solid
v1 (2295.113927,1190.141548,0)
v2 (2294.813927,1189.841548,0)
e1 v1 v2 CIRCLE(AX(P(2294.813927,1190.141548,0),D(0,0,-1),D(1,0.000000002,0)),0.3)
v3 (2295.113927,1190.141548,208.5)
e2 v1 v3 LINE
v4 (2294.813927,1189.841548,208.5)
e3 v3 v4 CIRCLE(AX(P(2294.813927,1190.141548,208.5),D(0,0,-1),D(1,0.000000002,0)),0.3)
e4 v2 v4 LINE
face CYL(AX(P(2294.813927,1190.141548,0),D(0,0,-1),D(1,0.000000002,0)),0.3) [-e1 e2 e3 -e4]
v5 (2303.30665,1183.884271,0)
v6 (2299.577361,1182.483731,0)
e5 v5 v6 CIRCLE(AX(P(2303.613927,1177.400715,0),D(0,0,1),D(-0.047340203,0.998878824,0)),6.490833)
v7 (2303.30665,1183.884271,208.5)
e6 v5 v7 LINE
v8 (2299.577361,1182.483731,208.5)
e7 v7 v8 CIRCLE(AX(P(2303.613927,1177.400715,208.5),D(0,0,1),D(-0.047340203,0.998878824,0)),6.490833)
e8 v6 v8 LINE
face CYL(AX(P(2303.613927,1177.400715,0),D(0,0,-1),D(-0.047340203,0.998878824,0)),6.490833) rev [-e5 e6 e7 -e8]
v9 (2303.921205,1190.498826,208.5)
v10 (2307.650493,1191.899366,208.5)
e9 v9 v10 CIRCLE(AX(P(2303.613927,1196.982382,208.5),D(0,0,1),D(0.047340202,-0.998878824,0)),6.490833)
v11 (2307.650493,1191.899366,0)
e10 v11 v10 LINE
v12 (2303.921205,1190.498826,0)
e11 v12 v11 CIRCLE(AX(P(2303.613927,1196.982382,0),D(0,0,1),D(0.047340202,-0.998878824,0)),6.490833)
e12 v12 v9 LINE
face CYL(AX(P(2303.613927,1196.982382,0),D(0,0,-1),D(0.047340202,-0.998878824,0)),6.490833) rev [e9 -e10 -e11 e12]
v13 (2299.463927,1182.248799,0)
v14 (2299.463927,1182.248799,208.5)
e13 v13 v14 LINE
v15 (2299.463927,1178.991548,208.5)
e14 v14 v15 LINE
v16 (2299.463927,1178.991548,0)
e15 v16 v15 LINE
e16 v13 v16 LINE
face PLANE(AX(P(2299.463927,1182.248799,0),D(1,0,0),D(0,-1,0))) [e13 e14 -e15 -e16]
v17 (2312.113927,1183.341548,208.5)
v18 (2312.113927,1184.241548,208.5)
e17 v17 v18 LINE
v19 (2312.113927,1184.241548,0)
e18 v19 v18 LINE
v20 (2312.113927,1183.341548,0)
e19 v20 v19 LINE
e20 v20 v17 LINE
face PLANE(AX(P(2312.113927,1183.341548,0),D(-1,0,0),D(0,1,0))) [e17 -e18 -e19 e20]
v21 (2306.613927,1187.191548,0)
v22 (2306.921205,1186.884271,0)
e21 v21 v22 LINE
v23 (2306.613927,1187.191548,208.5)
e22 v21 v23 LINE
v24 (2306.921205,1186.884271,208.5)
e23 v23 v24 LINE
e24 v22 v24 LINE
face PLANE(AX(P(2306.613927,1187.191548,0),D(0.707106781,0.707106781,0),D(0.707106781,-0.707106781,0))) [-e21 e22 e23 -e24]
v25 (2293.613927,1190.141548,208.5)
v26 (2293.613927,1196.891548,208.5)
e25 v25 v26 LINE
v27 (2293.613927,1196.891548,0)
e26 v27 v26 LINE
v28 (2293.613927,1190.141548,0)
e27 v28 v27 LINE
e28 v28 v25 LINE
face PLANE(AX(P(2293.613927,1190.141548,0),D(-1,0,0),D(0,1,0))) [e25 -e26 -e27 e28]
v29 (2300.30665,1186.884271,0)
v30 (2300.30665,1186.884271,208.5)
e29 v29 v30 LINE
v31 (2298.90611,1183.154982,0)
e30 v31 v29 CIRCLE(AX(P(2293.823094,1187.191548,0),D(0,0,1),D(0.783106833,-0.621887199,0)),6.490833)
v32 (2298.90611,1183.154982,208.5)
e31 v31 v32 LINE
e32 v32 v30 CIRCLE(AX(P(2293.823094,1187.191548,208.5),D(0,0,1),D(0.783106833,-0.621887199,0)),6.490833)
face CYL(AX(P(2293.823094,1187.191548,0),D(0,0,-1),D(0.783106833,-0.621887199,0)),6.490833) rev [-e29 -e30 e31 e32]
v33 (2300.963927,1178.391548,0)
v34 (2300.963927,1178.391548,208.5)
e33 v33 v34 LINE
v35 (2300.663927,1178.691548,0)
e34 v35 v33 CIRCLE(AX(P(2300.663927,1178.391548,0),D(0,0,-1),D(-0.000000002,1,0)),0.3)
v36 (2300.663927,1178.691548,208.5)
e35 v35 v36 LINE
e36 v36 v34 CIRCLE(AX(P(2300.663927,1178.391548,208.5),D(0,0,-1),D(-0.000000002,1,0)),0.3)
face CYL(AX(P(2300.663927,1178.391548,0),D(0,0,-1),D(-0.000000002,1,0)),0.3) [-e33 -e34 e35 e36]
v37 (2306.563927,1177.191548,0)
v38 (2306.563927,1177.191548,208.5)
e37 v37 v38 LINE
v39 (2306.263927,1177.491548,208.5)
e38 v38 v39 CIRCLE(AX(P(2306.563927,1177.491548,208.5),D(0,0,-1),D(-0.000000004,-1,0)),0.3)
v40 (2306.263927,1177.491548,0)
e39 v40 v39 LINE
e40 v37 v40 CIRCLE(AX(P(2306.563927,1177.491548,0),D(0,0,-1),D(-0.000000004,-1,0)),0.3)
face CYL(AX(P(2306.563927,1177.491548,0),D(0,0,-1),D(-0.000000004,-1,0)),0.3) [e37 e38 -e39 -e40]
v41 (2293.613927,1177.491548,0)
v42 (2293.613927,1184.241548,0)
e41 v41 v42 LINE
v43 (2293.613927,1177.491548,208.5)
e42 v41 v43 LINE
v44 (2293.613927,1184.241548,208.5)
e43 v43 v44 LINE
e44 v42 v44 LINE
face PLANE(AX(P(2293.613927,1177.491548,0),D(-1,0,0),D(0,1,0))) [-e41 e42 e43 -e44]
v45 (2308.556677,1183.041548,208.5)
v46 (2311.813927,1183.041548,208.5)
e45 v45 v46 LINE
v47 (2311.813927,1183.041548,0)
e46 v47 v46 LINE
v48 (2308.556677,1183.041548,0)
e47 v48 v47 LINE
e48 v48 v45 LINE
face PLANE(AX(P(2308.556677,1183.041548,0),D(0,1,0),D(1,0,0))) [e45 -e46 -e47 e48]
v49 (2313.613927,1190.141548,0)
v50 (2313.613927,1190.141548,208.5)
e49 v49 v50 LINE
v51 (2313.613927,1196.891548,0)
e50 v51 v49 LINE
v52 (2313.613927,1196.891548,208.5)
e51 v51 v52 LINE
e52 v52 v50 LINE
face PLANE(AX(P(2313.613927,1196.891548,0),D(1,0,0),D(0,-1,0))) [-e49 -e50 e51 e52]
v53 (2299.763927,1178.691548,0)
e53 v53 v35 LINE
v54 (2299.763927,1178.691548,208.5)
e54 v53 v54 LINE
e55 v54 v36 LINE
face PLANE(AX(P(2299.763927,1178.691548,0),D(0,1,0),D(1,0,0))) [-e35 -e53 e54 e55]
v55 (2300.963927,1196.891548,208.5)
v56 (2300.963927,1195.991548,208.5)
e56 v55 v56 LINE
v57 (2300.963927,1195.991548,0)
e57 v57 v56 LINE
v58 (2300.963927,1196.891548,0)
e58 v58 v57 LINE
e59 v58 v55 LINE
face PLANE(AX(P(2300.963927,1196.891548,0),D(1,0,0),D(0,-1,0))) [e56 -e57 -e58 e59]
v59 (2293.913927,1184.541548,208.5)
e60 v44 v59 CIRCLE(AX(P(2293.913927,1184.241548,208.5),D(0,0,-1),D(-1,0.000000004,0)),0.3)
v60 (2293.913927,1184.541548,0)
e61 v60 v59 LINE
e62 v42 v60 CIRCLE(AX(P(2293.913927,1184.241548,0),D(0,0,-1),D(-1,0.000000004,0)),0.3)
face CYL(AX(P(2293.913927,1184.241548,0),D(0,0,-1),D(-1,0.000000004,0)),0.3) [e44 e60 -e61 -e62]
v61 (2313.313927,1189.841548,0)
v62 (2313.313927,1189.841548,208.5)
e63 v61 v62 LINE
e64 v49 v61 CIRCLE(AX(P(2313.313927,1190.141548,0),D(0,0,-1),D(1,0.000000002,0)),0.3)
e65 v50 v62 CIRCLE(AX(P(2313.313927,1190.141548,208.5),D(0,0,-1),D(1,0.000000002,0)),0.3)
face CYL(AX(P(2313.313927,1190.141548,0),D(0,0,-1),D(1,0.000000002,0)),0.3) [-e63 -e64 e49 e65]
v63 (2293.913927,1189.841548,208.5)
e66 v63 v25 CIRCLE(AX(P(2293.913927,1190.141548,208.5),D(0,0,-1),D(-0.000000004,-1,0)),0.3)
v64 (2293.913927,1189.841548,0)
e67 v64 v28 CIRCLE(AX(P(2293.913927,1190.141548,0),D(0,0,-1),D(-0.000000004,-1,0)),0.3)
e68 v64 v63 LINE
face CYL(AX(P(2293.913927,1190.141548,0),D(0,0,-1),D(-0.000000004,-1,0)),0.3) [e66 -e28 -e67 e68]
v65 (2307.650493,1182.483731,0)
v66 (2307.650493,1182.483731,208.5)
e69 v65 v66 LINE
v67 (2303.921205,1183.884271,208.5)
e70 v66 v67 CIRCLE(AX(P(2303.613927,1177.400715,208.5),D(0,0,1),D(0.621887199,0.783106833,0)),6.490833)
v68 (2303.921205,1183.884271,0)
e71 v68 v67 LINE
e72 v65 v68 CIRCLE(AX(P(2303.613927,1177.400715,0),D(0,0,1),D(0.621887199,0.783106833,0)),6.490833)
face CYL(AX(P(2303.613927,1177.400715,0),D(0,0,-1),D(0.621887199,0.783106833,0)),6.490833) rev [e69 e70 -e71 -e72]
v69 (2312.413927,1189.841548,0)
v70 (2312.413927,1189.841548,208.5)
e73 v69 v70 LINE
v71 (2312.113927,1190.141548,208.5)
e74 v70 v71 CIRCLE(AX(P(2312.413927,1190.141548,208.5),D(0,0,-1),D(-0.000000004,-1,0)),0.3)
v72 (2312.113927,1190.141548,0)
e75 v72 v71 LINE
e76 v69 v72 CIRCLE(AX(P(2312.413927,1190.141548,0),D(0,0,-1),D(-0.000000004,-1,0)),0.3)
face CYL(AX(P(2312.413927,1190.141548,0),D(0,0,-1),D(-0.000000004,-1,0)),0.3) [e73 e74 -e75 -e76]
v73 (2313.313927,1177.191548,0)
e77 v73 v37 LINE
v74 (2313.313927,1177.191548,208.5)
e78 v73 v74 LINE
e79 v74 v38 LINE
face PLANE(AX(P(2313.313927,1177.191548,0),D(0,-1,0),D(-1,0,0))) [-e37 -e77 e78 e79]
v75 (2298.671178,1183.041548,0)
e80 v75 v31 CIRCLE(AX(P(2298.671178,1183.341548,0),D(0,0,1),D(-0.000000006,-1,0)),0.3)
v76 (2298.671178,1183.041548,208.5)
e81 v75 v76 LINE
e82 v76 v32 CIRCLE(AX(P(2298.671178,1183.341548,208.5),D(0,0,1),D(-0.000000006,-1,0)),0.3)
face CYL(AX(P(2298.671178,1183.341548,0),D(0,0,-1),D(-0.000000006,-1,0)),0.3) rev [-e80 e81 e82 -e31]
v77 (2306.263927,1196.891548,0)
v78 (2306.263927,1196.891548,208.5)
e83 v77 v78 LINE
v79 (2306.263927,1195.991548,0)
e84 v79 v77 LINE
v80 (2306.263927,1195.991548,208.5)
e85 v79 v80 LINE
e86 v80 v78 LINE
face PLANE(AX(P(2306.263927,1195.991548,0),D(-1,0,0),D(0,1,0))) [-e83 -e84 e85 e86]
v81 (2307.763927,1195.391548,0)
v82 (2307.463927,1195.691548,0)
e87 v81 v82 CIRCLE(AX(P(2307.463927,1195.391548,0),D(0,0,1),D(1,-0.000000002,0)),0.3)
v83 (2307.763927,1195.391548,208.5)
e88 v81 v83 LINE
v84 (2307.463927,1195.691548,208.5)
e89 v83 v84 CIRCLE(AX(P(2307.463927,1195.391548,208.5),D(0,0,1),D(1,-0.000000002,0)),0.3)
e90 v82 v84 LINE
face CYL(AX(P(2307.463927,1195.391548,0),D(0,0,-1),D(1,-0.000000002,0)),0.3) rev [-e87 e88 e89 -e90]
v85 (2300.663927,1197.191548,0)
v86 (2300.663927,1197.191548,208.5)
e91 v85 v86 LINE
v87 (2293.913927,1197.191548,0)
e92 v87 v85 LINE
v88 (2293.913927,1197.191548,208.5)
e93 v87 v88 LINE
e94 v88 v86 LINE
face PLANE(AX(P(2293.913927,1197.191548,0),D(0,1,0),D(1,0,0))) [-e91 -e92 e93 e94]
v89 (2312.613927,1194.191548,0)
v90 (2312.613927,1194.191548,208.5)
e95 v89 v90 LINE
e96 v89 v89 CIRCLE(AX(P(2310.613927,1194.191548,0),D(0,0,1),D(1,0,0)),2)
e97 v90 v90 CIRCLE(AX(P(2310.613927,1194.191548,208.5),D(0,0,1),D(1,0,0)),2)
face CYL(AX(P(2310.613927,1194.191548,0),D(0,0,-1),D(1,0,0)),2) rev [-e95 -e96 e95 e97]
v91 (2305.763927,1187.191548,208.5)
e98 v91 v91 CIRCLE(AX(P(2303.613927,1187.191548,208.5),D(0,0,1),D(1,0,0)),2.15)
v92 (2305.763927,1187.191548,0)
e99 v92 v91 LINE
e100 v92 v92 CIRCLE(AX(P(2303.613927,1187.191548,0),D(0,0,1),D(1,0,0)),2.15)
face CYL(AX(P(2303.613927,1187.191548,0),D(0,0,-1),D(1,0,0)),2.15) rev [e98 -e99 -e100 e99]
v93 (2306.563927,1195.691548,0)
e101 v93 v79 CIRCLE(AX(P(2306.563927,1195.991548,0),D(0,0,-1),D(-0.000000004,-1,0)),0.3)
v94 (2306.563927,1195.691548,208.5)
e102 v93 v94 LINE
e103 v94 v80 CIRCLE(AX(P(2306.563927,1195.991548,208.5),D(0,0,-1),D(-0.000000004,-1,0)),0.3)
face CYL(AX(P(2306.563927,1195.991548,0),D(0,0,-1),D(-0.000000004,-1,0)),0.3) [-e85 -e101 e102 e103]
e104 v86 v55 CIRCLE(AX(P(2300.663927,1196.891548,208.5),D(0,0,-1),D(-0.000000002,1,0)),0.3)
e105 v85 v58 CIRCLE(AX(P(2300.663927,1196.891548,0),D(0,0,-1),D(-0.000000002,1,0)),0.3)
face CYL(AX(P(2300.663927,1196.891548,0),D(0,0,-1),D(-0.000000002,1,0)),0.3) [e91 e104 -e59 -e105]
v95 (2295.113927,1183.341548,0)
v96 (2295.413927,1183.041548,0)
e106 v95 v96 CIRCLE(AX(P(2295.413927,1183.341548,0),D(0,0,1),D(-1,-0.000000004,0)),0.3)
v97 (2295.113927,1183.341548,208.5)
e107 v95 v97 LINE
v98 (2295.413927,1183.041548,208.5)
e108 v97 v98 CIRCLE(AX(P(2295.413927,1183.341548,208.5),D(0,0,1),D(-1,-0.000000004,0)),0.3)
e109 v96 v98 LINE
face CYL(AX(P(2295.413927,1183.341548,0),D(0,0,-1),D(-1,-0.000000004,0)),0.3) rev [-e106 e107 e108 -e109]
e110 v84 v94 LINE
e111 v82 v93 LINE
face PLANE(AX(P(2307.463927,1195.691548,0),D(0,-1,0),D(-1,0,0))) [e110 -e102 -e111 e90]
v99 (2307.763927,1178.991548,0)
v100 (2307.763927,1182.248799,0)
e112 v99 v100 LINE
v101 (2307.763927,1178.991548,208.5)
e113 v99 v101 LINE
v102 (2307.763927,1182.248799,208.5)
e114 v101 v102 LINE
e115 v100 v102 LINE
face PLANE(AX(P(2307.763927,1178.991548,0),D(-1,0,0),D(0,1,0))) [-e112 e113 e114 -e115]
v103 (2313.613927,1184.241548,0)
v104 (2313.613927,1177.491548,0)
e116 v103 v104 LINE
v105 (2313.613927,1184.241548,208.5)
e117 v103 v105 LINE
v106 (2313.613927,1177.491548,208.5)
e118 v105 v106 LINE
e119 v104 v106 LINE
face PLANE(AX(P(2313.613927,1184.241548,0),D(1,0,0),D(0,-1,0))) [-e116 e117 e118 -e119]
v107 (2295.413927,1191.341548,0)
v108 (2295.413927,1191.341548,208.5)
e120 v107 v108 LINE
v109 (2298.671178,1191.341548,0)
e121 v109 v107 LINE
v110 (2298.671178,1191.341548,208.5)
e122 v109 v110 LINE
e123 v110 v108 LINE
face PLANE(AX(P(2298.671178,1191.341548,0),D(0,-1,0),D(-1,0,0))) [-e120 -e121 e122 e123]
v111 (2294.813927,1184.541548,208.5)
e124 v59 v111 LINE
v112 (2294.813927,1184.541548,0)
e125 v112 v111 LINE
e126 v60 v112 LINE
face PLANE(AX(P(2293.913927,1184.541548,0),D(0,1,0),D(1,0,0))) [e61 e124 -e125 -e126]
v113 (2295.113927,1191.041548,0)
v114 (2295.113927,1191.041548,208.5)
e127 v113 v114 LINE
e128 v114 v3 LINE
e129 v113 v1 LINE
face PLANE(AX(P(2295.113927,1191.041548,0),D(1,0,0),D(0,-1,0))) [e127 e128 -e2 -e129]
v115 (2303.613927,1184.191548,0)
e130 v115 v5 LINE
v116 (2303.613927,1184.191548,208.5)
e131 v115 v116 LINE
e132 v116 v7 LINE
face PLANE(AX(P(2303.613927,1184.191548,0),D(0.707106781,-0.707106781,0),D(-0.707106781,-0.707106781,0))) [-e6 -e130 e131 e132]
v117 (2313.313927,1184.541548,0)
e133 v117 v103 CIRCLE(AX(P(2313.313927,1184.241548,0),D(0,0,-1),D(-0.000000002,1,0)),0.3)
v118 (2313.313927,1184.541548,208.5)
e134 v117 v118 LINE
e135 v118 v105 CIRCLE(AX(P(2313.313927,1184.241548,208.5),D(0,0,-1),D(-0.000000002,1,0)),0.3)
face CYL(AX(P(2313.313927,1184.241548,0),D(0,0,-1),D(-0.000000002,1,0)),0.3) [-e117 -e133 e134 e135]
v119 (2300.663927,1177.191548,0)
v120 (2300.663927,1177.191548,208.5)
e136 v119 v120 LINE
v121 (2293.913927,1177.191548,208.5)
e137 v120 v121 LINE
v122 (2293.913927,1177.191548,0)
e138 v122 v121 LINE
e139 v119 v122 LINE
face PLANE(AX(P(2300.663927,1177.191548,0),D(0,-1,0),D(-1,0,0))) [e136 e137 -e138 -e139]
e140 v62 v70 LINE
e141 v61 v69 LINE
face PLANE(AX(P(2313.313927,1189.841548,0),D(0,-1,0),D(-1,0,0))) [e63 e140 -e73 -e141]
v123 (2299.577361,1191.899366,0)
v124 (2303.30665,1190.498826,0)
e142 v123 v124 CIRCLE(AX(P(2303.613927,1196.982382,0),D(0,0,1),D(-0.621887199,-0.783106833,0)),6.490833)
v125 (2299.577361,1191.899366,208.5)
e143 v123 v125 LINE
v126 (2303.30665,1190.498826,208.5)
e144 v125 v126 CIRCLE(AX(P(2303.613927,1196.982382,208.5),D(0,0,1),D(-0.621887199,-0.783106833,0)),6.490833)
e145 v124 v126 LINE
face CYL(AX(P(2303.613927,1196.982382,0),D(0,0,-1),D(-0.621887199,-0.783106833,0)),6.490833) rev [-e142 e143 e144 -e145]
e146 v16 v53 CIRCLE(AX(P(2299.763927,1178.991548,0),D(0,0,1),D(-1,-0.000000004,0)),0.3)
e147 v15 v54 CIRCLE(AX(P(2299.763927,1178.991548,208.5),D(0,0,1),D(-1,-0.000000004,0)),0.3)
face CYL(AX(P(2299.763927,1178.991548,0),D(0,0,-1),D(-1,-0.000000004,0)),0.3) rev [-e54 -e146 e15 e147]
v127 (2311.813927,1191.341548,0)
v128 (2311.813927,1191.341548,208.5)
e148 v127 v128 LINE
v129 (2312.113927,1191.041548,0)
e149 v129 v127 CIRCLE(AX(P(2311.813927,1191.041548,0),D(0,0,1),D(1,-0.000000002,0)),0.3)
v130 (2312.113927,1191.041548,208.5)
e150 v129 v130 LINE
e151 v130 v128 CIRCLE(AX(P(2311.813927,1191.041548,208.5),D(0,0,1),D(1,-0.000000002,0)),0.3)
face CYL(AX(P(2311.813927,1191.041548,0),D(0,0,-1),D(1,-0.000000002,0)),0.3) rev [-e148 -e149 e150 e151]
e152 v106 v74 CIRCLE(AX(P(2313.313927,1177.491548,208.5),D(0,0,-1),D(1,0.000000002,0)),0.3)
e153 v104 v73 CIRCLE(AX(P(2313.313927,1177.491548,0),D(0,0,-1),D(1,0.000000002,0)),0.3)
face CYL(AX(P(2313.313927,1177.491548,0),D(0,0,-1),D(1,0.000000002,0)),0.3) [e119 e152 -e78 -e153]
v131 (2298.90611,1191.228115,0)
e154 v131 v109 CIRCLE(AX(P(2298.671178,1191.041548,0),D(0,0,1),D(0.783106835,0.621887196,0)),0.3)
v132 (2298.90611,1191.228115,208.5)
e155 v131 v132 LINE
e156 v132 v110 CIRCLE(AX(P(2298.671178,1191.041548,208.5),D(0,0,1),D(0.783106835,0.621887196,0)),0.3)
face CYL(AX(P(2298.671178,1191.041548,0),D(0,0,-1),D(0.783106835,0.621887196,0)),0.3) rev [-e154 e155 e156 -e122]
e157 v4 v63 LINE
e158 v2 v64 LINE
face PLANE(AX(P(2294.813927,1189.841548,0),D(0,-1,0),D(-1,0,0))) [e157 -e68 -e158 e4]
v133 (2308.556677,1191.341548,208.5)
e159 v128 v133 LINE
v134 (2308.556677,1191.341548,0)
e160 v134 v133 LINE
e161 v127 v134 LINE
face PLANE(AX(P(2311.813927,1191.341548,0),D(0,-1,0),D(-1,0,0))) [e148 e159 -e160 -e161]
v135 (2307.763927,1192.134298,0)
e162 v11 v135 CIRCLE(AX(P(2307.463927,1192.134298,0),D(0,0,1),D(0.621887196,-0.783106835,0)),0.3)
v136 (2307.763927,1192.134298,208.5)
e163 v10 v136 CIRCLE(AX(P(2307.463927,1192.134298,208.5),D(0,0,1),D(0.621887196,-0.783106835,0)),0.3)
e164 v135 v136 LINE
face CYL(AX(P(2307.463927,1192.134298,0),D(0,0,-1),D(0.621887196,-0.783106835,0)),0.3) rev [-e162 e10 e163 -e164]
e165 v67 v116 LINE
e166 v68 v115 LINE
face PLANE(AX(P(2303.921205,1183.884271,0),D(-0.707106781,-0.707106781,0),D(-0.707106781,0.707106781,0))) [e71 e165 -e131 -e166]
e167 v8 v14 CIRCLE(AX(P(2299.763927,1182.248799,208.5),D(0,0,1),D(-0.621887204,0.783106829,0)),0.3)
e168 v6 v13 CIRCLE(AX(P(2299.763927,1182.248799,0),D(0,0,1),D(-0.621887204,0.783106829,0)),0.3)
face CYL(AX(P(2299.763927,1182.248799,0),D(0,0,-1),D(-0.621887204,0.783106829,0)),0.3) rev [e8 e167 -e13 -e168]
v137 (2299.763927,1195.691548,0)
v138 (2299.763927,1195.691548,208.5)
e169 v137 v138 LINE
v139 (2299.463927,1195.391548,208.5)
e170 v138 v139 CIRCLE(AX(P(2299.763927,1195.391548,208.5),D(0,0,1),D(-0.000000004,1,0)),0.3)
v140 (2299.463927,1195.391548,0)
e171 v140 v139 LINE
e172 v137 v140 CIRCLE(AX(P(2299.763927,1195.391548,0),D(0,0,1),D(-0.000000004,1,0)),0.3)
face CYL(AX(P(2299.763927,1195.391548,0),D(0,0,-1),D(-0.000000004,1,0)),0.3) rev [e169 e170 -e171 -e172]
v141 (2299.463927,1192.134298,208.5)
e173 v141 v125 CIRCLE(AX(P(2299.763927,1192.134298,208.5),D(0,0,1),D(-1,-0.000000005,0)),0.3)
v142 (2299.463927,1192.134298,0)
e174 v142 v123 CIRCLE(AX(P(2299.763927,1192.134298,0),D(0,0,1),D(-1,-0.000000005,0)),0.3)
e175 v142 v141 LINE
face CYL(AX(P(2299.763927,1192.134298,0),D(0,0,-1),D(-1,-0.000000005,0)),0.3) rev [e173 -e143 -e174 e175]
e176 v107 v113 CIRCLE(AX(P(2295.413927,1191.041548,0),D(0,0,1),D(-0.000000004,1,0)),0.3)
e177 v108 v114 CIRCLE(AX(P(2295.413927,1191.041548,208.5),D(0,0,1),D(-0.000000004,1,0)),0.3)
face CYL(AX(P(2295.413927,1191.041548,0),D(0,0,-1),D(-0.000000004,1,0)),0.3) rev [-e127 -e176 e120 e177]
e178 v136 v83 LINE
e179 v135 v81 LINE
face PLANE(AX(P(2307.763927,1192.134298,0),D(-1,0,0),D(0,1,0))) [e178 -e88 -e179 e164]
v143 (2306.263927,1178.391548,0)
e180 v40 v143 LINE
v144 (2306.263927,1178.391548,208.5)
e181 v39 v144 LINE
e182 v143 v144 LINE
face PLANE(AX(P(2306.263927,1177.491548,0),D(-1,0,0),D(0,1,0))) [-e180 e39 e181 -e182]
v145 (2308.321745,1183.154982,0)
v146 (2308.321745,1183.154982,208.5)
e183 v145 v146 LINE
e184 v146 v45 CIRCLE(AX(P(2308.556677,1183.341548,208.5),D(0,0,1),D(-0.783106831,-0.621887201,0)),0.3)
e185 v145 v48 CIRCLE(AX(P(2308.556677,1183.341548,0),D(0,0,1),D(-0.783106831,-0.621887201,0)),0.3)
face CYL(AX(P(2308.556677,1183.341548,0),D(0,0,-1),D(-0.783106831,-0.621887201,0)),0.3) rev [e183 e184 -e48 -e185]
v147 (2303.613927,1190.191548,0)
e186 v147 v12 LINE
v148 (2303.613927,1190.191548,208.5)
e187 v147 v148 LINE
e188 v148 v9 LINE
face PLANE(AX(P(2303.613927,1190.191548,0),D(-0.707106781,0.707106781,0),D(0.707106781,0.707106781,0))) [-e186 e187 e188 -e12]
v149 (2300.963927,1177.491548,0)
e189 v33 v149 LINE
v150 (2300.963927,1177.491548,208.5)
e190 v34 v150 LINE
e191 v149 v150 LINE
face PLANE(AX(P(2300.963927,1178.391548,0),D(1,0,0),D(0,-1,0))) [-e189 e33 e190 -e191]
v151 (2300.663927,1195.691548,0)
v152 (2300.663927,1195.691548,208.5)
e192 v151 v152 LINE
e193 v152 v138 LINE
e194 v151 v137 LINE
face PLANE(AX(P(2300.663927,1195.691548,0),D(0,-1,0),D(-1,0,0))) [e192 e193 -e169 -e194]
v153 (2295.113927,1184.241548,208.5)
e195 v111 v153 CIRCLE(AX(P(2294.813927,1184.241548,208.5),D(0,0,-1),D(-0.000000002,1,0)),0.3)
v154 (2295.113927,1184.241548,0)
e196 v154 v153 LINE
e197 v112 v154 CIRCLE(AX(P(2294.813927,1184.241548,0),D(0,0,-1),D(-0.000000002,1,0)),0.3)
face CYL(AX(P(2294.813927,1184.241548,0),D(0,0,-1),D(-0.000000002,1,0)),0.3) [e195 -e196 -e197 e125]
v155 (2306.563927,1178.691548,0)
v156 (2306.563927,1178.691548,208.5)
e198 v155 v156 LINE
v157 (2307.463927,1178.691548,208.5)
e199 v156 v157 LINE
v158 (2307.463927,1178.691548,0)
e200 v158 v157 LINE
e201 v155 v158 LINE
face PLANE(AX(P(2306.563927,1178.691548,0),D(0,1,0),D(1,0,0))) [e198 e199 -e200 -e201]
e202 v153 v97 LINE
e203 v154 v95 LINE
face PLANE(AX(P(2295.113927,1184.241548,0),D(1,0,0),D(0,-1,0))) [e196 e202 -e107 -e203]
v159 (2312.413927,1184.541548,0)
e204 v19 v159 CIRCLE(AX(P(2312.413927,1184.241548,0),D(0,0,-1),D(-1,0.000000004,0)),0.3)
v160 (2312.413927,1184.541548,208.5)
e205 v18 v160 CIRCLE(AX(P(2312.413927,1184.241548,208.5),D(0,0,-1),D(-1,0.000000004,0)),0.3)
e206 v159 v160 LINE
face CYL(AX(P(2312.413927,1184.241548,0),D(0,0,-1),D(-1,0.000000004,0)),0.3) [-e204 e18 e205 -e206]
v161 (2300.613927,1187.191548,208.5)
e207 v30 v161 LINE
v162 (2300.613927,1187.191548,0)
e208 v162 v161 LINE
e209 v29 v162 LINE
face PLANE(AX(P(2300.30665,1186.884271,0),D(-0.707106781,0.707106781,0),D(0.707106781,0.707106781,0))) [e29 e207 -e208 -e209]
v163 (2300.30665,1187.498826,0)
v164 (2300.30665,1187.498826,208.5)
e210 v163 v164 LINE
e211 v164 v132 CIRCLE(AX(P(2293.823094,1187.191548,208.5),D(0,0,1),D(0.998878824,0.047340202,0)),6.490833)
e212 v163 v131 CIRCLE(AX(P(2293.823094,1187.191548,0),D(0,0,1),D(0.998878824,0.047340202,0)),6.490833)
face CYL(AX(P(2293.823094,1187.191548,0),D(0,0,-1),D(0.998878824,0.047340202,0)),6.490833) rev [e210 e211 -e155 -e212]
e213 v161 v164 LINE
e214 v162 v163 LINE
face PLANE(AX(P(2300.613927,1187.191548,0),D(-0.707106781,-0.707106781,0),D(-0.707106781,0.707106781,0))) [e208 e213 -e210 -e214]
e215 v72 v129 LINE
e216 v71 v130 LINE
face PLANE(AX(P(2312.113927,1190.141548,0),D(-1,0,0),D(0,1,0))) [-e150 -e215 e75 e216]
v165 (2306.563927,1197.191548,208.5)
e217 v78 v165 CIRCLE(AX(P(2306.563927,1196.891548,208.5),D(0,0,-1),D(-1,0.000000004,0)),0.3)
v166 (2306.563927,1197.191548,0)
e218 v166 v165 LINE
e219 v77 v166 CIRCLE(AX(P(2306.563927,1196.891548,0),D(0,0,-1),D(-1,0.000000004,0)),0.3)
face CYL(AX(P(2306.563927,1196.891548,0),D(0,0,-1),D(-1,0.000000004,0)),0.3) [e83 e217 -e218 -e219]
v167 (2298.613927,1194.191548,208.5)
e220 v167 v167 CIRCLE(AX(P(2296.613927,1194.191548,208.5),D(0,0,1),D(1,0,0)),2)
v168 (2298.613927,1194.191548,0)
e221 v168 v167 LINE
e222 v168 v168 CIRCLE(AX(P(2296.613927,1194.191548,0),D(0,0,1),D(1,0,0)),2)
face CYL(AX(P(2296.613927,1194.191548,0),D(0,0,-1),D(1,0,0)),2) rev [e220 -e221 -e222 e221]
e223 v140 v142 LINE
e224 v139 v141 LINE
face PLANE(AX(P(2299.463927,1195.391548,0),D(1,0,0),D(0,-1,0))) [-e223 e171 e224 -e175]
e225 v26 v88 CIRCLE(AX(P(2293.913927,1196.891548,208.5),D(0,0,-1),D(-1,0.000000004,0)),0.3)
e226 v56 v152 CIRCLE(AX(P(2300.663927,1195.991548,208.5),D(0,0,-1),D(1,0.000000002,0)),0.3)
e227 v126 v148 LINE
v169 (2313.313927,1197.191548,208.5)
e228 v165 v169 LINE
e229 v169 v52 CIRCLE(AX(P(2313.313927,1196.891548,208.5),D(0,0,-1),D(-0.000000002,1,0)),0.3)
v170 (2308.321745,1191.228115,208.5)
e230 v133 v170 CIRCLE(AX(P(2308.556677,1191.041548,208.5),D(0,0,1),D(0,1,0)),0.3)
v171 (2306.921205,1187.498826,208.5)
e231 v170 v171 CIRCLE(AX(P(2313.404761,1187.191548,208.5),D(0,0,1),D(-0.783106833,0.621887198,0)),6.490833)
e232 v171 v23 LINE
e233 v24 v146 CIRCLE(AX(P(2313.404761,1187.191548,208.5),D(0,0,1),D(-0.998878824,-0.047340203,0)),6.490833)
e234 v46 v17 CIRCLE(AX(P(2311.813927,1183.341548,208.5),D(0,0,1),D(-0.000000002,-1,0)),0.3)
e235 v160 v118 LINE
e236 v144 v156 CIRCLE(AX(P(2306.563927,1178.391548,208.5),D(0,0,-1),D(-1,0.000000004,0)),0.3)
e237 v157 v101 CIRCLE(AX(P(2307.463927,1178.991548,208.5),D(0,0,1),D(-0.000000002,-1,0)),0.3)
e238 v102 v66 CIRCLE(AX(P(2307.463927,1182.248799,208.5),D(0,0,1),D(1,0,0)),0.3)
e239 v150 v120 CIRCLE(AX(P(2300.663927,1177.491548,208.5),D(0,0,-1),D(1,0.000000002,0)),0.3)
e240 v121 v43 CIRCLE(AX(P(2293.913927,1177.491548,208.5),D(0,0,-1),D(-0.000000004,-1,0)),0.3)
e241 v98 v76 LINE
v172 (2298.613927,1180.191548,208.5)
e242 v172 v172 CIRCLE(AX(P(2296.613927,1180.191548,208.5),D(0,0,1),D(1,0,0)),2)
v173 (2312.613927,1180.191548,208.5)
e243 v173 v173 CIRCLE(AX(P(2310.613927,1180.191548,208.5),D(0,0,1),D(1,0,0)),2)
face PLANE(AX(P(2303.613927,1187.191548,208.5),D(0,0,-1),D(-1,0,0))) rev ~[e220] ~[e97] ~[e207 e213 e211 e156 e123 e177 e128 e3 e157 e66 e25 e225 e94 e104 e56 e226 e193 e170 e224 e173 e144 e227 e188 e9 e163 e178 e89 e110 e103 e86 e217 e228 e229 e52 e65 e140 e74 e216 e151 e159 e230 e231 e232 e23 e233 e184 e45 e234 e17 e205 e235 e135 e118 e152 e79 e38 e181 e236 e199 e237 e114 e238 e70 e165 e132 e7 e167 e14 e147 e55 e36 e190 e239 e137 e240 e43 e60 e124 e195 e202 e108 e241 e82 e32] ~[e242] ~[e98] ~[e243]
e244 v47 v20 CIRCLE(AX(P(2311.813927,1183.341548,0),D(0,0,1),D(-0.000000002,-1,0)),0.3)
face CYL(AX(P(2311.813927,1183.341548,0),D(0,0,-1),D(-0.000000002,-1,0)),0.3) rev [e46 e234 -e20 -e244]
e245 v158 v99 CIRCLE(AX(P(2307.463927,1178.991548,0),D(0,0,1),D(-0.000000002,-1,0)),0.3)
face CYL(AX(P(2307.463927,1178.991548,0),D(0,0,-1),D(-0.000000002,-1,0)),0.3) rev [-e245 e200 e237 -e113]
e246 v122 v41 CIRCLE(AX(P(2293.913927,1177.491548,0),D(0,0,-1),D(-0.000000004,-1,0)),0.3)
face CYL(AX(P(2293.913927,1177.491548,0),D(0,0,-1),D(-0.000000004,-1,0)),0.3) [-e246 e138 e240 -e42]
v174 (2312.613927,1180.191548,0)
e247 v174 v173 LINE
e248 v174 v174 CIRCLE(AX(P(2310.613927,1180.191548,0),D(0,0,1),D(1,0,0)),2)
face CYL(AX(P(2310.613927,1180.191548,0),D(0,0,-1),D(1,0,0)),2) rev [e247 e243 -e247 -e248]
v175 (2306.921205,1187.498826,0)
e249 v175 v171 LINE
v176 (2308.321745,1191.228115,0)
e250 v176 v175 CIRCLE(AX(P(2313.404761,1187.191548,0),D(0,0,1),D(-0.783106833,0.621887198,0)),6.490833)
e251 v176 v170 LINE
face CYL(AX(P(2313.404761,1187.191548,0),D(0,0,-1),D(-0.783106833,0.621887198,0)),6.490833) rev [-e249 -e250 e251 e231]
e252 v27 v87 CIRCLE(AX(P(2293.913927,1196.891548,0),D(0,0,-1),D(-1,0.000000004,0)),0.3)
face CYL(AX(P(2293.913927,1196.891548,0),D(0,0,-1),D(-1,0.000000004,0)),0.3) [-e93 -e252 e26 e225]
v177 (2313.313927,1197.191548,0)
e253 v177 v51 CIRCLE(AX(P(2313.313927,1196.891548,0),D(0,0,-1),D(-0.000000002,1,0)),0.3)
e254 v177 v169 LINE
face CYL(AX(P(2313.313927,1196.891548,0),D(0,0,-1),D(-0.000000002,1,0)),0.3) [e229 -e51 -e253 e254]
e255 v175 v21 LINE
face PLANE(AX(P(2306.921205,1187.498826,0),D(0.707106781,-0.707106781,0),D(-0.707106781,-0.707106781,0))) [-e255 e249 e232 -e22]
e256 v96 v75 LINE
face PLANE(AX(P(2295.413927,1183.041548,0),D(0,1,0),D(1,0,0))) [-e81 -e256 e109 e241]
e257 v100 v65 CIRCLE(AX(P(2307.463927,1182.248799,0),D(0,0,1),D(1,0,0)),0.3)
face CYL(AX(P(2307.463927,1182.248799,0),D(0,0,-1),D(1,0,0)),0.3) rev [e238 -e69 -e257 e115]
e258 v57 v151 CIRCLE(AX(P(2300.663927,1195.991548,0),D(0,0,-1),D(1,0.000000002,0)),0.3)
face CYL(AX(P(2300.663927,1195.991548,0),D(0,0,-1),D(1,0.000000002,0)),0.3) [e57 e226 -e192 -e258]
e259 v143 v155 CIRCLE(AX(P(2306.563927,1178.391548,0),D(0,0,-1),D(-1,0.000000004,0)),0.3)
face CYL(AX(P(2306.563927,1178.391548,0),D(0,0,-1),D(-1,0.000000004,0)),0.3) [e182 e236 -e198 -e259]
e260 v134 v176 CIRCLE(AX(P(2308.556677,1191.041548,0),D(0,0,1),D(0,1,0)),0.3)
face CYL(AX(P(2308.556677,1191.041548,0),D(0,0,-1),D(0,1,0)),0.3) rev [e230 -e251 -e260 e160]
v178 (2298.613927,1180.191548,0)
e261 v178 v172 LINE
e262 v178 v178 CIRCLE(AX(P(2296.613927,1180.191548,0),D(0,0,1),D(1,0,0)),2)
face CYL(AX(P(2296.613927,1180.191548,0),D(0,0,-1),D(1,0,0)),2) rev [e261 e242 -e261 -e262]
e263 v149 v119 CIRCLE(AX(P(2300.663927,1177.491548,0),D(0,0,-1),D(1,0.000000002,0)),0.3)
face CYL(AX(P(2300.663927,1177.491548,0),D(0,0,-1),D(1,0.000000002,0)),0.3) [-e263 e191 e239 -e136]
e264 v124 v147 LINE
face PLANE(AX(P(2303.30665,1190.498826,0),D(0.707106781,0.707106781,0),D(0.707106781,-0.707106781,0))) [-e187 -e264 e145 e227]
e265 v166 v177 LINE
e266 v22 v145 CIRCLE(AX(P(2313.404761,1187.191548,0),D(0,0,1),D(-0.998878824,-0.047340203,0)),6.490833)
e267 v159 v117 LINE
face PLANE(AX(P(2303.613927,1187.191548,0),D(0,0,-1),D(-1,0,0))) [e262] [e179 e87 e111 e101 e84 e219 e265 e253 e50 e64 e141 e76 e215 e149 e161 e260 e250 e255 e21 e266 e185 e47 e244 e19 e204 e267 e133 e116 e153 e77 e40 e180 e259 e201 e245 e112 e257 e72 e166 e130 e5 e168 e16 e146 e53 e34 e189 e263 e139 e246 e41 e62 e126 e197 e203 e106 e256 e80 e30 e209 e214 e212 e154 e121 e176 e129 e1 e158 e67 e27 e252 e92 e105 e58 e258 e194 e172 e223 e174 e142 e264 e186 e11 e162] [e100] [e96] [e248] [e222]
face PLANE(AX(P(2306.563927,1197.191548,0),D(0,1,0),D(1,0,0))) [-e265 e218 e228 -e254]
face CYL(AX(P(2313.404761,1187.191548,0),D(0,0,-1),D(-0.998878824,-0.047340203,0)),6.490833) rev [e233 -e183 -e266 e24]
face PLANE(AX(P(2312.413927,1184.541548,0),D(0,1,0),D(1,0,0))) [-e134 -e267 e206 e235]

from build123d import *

# Parameters (mm, degrees)
MODEL_R         = 2.15
MODEL_R_2       = 2
EXTRUDE_1_DEPTH = 208.5


with BuildPart() as part:
    # Model → 보스-돌출1 (new body)
    with BuildSketch(Plane.XY):
        with BuildLine():
            Line((2307.763927197, 1192.134297913), (2307.763927197, 1195.391548465))
            ThreePointArc((2307.763927197, 1195.391548465), (2307.676059232, 1195.603680499), (2307.463927197, 1195.691548465))
            Line((2307.463927197, 1195.691548465), (2306.563927197, 1195.691548465))
            ThreePointArc((2306.563927197, 1195.691548465), (2306.351795163, 1195.779416431), (2306.263927197, 1195.991548465))
            Line((2306.263927197, 1195.991548465), (2306.263927197, 1196.891548465))
            ThreePointArc((2306.263927197, 1196.891548465), (2306.351795163, 1197.103680499), (2306.563927197, 1197.191548465))
            Line((2306.563927197, 1197.191548465), (2313.313927197, 1197.191548465))
            ThreePointArc((2313.313927197, 1197.191548465), (2313.526059232, 1197.103680499), (2313.613927197, 1196.891548465))
            Line((2313.613927197, 1196.891548465), (2313.613927197, 1190.141548465))
            ThreePointArc((2313.613927197, 1190.141548465), (2313.526059232, 1189.929416431), (2313.313927197, 1189.841548465))
            Line((2313.313927197, 1189.841548465), (2312.413927197, 1189.841548465))
            ThreePointArc((2312.413927197, 1189.841548465), (2312.201795163, 1189.929416431), (2312.113927197, 1190.141548465))
            Line((2312.113927197, 1190.141548465), (2312.113927197, 1191.041548465))
            ThreePointArc((2312.113927197, 1191.041548465), (2312.026059232, 1191.253680499), (2311.813927197, 1191.341548465))
            Line((2311.813927197, 1191.341548465), (2308.556676645, 1191.341548465))
            ThreePointArc((2308.556676645, 1191.341548465), (2308.426234796, 1191.311705686), (2308.321744595, 1191.228114625))
            ThreePointArc((2308.321744595, 1191.228114625), (2307.328306374, 1189.47356999), (2306.921204563, 1187.498825831))
            Line((2306.921204563, 1187.498825831), (2306.613927197, 1187.191548465))
            Line((2306.613927197, 1187.191548465), (2306.921204563, 1186.884271099))
            ThreePointArc((2306.921204563, 1186.884271099), (2307.328306374, 1184.90952694), (2308.321744595, 1183.154982305))
            ThreePointArc((2308.321744595, 1183.154982305), (2308.426234796, 1183.071391244), (2308.556676645, 1183.041548465))
            Line((2308.556676645, 1183.041548465), (2311.813927197, 1183.041548465))
            ThreePointArc((2311.813927197, 1183.041548465), (2312.026059232, 1183.129416431), (2312.113927197, 1183.341548465))
            Line((2312.113927197, 1183.341548465), (2312.113927197, 1184.241548465))
            ThreePointArc((2312.113927197, 1184.241548465), (2312.201795163, 1184.453680499), (2312.413927197, 1184.541548465))
            Line((2312.413927197, 1184.541548465), (2313.313927197, 1184.541548465))
            ThreePointArc((2313.313927197, 1184.541548465), (2313.526059232, 1184.453680499), (2313.613927197, 1184.241548465))
            Line((2313.613927197, 1184.241548465), (2313.613927197, 1177.491548465))
            ThreePointArc((2313.613927197, 1177.491548465), (2313.526059232, 1177.279416431), (2313.313927197, 1177.191548465))
            Line((2313.313927197, 1177.191548465), (2306.563927197, 1177.191548465))
            ThreePointArc((2306.563927197, 1177.191548465), (2306.351795163, 1177.279416431), (2306.263927197, 1177.491548465))
            Line((2306.263927197, 1177.491548465), (2306.263927197, 1178.391548465))
            ThreePointArc((2306.263927197, 1178.391548465), (2306.351795163, 1178.603680499), (2306.563927197, 1178.691548465))
            Line((2306.563927197, 1178.691548465), (2307.463927197, 1178.691548465))
            ThreePointArc((2307.463927197, 1178.691548465), (2307.676059232, 1178.779416431), (2307.763927197, 1178.991548465))
            Line((2307.763927197, 1178.991548465), (2307.763927197, 1182.248799017))
            ThreePointArc((2307.763927197, 1182.248799017), (2307.734084418, 1182.379240866), (2307.650493357, 1182.483731067))
            ThreePointArc((2307.650493357, 1182.483731067), (2305.895948722, 1183.477169289), (2303.921204563, 1183.884271099))
            Line((2303.921204563, 1183.884271099), (2303.613927197, 1184.191548465))
            Line((2303.613927197, 1184.191548465), (2303.306649831, 1183.884271099))
            ThreePointArc((2303.306649831, 1183.884271099), (2301.331905673, 1183.477169289), (2299.577361038, 1182.483731067))
            ThreePointArc((2299.577361038, 1182.483731067), (2299.493769977, 1182.379240866), (2299.463927197, 1182.248799017))
            Line((2299.463927197, 1182.248799017), (2299.463927197, 1178.991548465))
            ThreePointArc((2299.463927197, 1178.991548465), (2299.551795163, 1178.779416431), (2299.763927197, 1178.691548465))
            Line((2299.763927197, 1178.691548465), (2300.663927197, 1178.691548465))
            ThreePointArc((2300.663927197, 1178.691548465), (2300.876059232, 1178.603680499), (2300.963927197, 1178.391548465))
            Line((2300.963927197, 1178.391548465), (2300.963927197, 1177.491548465))
            ThreePointArc((2300.963927197, 1177.491548465), (2300.876059232, 1177.279416431), (2300.663927197, 1177.191548465))
            Line((2300.663927197, 1177.191548465), (2293.913927197, 1177.191548465))
            ThreePointArc((2293.913927197, 1177.191548465), (2293.701795163, 1177.279416431), (2293.613927197, 1177.491548465))
            Line((2293.613927197, 1177.491548465), (2293.613927197, 1184.241548465))
            ThreePointArc((2293.613927197, 1184.241548465), (2293.701795163, 1184.453680499), (2293.913927197, 1184.541548465))
            Line((2293.913927197, 1184.541548465), (2294.813927197, 1184.541548465))
            ThreePointArc((2294.813927197, 1184.541548465), (2295.026059232, 1184.453680499), (2295.113927197, 1184.241548465))
            Line((2295.113927197, 1184.241548465), (2295.113927197, 1183.341548465))
            ThreePointArc((2295.113927197, 1183.341548465), (2295.201795163, 1183.129416431), (2295.413927197, 1183.041548465))
            Line((2295.413927197, 1183.041548465), (2298.671177749, 1183.041548465))
            ThreePointArc((2298.671177749, 1183.041548465), (2298.801619599, 1183.071391244), (2298.906109799, 1183.154982305))
            ThreePointArc((2298.906109799, 1183.154982305), (2299.899548021, 1184.90952694), (2300.306649831, 1186.884271099))
            Line((2300.306649831, 1186.884271099), (2300.613927197, 1187.191548465))
            Line((2300.613927197, 1187.191548465), (2300.306649831, 1187.498825831))
            ThreePointArc((2300.306649831, 1187.498825831), (2299.899548021, 1189.47356999), (2298.906109799, 1191.228114625))
            ThreePointArc((2298.906109799, 1191.228114625), (2298.801619599, 1191.311705686), (2298.671177749, 1191.341548465))
            Line((2298.671177749, 1191.341548465), (2295.413927197, 1191.341548465))
            ThreePointArc((2295.413927197, 1191.341548465), (2295.201795163, 1191.253680499), (2295.113927197, 1191.041548465))
            Line((2295.113927197, 1191.041548465), (2295.113927197, 1190.141548465))
            ThreePointArc((2295.113927197, 1190.141548465), (2295.026059232, 1189.929416431), (2294.813927197, 1189.841548465))
            Line((2294.813927197, 1189.841548465), (2293.913927197, 1189.841548465))
            ThreePointArc((2293.913927197, 1189.841548465), (2293.701795163, 1189.929416431), (2293.613927197, 1190.141548465))
            Line((2293.613927197, 1190.141548465), (2293.613927197, 1196.891548465))
            ThreePointArc((2293.613927197, 1196.891548465), (2293.701795163, 1197.103680499), (2293.913927197, 1197.191548465))
            Line((2293.913927197, 1197.191548465), (2300.663927197, 1197.191548465))
            ThreePointArc((2300.663927197, 1197.191548465), (2300.876059232, 1197.103680499), (2300.963927197, 1196.891548465))
            Line((2300.963927197, 1196.891548465), (2300.963927197, 1195.991548465))
            ThreePointArc((2300.963927197, 1195.991548465), (2300.876059232, 1195.779416431), (2300.663927197, 1195.691548465))
            Line((2300.663927197, 1195.691548465), (2299.763927197, 1195.691548465))
            ThreePointArc((2299.763927197, 1195.691548465), (2299.551795163, 1195.603680499), (2299.463927197, 1195.391548465))
            Line((2299.463927197, 1195.391548465), (2299.463927197, 1192.134297913))
            ThreePointArc((2299.463927197, 1192.134297913), (2299.493769977, 1192.003856063), (2299.577361038, 1191.899365863))
            ThreePointArc((2299.577361038, 1191.899365863), (2301.331905673, 1190.905927641), (2303.306649831, 1190.498825831))
            Line((2303.306649831, 1190.498825831), (2303.613927197, 1190.191548465))
            Line((2303.613927197, 1190.191548465), (2303.921204563, 1190.498825831))
            ThreePointArc((2303.921204563, 1190.498825831), (2305.895948722, 1190.905927641), (2307.650493357, 1191.899365863))
            ThreePointArc((2307.650493357, 1191.899365863), (2307.734084418, 1192.003856063), (2307.763927197, 1192.134297913))
        make_face()
        with Locations((2303.613927197, 1187.191548465)):
            Circle(MODEL_R, mode=Mode.SUBTRACT)
        with Locations((2296.613927197, 1194.191548465)):
            Circle(MODEL_R_2, mode=Mode.SUBTRACT)
        with Locations((2296.613927197, 1180.191548465)):
            Circle(MODEL_R_2, mode=Mode.SUBTRACT)
        with Locations((2310.613927197, 1194.191548465)):
            Circle(MODEL_R_2, mode=Mode.SUBTRACT)
        with Locations((2310.613927197, 1180.191548465)):
            Circle(MODEL_R_2, mode=Mode.SUBTRACT)
    extrude(amount=EXTRUDE_1_DEPTH)


solid = part.part
